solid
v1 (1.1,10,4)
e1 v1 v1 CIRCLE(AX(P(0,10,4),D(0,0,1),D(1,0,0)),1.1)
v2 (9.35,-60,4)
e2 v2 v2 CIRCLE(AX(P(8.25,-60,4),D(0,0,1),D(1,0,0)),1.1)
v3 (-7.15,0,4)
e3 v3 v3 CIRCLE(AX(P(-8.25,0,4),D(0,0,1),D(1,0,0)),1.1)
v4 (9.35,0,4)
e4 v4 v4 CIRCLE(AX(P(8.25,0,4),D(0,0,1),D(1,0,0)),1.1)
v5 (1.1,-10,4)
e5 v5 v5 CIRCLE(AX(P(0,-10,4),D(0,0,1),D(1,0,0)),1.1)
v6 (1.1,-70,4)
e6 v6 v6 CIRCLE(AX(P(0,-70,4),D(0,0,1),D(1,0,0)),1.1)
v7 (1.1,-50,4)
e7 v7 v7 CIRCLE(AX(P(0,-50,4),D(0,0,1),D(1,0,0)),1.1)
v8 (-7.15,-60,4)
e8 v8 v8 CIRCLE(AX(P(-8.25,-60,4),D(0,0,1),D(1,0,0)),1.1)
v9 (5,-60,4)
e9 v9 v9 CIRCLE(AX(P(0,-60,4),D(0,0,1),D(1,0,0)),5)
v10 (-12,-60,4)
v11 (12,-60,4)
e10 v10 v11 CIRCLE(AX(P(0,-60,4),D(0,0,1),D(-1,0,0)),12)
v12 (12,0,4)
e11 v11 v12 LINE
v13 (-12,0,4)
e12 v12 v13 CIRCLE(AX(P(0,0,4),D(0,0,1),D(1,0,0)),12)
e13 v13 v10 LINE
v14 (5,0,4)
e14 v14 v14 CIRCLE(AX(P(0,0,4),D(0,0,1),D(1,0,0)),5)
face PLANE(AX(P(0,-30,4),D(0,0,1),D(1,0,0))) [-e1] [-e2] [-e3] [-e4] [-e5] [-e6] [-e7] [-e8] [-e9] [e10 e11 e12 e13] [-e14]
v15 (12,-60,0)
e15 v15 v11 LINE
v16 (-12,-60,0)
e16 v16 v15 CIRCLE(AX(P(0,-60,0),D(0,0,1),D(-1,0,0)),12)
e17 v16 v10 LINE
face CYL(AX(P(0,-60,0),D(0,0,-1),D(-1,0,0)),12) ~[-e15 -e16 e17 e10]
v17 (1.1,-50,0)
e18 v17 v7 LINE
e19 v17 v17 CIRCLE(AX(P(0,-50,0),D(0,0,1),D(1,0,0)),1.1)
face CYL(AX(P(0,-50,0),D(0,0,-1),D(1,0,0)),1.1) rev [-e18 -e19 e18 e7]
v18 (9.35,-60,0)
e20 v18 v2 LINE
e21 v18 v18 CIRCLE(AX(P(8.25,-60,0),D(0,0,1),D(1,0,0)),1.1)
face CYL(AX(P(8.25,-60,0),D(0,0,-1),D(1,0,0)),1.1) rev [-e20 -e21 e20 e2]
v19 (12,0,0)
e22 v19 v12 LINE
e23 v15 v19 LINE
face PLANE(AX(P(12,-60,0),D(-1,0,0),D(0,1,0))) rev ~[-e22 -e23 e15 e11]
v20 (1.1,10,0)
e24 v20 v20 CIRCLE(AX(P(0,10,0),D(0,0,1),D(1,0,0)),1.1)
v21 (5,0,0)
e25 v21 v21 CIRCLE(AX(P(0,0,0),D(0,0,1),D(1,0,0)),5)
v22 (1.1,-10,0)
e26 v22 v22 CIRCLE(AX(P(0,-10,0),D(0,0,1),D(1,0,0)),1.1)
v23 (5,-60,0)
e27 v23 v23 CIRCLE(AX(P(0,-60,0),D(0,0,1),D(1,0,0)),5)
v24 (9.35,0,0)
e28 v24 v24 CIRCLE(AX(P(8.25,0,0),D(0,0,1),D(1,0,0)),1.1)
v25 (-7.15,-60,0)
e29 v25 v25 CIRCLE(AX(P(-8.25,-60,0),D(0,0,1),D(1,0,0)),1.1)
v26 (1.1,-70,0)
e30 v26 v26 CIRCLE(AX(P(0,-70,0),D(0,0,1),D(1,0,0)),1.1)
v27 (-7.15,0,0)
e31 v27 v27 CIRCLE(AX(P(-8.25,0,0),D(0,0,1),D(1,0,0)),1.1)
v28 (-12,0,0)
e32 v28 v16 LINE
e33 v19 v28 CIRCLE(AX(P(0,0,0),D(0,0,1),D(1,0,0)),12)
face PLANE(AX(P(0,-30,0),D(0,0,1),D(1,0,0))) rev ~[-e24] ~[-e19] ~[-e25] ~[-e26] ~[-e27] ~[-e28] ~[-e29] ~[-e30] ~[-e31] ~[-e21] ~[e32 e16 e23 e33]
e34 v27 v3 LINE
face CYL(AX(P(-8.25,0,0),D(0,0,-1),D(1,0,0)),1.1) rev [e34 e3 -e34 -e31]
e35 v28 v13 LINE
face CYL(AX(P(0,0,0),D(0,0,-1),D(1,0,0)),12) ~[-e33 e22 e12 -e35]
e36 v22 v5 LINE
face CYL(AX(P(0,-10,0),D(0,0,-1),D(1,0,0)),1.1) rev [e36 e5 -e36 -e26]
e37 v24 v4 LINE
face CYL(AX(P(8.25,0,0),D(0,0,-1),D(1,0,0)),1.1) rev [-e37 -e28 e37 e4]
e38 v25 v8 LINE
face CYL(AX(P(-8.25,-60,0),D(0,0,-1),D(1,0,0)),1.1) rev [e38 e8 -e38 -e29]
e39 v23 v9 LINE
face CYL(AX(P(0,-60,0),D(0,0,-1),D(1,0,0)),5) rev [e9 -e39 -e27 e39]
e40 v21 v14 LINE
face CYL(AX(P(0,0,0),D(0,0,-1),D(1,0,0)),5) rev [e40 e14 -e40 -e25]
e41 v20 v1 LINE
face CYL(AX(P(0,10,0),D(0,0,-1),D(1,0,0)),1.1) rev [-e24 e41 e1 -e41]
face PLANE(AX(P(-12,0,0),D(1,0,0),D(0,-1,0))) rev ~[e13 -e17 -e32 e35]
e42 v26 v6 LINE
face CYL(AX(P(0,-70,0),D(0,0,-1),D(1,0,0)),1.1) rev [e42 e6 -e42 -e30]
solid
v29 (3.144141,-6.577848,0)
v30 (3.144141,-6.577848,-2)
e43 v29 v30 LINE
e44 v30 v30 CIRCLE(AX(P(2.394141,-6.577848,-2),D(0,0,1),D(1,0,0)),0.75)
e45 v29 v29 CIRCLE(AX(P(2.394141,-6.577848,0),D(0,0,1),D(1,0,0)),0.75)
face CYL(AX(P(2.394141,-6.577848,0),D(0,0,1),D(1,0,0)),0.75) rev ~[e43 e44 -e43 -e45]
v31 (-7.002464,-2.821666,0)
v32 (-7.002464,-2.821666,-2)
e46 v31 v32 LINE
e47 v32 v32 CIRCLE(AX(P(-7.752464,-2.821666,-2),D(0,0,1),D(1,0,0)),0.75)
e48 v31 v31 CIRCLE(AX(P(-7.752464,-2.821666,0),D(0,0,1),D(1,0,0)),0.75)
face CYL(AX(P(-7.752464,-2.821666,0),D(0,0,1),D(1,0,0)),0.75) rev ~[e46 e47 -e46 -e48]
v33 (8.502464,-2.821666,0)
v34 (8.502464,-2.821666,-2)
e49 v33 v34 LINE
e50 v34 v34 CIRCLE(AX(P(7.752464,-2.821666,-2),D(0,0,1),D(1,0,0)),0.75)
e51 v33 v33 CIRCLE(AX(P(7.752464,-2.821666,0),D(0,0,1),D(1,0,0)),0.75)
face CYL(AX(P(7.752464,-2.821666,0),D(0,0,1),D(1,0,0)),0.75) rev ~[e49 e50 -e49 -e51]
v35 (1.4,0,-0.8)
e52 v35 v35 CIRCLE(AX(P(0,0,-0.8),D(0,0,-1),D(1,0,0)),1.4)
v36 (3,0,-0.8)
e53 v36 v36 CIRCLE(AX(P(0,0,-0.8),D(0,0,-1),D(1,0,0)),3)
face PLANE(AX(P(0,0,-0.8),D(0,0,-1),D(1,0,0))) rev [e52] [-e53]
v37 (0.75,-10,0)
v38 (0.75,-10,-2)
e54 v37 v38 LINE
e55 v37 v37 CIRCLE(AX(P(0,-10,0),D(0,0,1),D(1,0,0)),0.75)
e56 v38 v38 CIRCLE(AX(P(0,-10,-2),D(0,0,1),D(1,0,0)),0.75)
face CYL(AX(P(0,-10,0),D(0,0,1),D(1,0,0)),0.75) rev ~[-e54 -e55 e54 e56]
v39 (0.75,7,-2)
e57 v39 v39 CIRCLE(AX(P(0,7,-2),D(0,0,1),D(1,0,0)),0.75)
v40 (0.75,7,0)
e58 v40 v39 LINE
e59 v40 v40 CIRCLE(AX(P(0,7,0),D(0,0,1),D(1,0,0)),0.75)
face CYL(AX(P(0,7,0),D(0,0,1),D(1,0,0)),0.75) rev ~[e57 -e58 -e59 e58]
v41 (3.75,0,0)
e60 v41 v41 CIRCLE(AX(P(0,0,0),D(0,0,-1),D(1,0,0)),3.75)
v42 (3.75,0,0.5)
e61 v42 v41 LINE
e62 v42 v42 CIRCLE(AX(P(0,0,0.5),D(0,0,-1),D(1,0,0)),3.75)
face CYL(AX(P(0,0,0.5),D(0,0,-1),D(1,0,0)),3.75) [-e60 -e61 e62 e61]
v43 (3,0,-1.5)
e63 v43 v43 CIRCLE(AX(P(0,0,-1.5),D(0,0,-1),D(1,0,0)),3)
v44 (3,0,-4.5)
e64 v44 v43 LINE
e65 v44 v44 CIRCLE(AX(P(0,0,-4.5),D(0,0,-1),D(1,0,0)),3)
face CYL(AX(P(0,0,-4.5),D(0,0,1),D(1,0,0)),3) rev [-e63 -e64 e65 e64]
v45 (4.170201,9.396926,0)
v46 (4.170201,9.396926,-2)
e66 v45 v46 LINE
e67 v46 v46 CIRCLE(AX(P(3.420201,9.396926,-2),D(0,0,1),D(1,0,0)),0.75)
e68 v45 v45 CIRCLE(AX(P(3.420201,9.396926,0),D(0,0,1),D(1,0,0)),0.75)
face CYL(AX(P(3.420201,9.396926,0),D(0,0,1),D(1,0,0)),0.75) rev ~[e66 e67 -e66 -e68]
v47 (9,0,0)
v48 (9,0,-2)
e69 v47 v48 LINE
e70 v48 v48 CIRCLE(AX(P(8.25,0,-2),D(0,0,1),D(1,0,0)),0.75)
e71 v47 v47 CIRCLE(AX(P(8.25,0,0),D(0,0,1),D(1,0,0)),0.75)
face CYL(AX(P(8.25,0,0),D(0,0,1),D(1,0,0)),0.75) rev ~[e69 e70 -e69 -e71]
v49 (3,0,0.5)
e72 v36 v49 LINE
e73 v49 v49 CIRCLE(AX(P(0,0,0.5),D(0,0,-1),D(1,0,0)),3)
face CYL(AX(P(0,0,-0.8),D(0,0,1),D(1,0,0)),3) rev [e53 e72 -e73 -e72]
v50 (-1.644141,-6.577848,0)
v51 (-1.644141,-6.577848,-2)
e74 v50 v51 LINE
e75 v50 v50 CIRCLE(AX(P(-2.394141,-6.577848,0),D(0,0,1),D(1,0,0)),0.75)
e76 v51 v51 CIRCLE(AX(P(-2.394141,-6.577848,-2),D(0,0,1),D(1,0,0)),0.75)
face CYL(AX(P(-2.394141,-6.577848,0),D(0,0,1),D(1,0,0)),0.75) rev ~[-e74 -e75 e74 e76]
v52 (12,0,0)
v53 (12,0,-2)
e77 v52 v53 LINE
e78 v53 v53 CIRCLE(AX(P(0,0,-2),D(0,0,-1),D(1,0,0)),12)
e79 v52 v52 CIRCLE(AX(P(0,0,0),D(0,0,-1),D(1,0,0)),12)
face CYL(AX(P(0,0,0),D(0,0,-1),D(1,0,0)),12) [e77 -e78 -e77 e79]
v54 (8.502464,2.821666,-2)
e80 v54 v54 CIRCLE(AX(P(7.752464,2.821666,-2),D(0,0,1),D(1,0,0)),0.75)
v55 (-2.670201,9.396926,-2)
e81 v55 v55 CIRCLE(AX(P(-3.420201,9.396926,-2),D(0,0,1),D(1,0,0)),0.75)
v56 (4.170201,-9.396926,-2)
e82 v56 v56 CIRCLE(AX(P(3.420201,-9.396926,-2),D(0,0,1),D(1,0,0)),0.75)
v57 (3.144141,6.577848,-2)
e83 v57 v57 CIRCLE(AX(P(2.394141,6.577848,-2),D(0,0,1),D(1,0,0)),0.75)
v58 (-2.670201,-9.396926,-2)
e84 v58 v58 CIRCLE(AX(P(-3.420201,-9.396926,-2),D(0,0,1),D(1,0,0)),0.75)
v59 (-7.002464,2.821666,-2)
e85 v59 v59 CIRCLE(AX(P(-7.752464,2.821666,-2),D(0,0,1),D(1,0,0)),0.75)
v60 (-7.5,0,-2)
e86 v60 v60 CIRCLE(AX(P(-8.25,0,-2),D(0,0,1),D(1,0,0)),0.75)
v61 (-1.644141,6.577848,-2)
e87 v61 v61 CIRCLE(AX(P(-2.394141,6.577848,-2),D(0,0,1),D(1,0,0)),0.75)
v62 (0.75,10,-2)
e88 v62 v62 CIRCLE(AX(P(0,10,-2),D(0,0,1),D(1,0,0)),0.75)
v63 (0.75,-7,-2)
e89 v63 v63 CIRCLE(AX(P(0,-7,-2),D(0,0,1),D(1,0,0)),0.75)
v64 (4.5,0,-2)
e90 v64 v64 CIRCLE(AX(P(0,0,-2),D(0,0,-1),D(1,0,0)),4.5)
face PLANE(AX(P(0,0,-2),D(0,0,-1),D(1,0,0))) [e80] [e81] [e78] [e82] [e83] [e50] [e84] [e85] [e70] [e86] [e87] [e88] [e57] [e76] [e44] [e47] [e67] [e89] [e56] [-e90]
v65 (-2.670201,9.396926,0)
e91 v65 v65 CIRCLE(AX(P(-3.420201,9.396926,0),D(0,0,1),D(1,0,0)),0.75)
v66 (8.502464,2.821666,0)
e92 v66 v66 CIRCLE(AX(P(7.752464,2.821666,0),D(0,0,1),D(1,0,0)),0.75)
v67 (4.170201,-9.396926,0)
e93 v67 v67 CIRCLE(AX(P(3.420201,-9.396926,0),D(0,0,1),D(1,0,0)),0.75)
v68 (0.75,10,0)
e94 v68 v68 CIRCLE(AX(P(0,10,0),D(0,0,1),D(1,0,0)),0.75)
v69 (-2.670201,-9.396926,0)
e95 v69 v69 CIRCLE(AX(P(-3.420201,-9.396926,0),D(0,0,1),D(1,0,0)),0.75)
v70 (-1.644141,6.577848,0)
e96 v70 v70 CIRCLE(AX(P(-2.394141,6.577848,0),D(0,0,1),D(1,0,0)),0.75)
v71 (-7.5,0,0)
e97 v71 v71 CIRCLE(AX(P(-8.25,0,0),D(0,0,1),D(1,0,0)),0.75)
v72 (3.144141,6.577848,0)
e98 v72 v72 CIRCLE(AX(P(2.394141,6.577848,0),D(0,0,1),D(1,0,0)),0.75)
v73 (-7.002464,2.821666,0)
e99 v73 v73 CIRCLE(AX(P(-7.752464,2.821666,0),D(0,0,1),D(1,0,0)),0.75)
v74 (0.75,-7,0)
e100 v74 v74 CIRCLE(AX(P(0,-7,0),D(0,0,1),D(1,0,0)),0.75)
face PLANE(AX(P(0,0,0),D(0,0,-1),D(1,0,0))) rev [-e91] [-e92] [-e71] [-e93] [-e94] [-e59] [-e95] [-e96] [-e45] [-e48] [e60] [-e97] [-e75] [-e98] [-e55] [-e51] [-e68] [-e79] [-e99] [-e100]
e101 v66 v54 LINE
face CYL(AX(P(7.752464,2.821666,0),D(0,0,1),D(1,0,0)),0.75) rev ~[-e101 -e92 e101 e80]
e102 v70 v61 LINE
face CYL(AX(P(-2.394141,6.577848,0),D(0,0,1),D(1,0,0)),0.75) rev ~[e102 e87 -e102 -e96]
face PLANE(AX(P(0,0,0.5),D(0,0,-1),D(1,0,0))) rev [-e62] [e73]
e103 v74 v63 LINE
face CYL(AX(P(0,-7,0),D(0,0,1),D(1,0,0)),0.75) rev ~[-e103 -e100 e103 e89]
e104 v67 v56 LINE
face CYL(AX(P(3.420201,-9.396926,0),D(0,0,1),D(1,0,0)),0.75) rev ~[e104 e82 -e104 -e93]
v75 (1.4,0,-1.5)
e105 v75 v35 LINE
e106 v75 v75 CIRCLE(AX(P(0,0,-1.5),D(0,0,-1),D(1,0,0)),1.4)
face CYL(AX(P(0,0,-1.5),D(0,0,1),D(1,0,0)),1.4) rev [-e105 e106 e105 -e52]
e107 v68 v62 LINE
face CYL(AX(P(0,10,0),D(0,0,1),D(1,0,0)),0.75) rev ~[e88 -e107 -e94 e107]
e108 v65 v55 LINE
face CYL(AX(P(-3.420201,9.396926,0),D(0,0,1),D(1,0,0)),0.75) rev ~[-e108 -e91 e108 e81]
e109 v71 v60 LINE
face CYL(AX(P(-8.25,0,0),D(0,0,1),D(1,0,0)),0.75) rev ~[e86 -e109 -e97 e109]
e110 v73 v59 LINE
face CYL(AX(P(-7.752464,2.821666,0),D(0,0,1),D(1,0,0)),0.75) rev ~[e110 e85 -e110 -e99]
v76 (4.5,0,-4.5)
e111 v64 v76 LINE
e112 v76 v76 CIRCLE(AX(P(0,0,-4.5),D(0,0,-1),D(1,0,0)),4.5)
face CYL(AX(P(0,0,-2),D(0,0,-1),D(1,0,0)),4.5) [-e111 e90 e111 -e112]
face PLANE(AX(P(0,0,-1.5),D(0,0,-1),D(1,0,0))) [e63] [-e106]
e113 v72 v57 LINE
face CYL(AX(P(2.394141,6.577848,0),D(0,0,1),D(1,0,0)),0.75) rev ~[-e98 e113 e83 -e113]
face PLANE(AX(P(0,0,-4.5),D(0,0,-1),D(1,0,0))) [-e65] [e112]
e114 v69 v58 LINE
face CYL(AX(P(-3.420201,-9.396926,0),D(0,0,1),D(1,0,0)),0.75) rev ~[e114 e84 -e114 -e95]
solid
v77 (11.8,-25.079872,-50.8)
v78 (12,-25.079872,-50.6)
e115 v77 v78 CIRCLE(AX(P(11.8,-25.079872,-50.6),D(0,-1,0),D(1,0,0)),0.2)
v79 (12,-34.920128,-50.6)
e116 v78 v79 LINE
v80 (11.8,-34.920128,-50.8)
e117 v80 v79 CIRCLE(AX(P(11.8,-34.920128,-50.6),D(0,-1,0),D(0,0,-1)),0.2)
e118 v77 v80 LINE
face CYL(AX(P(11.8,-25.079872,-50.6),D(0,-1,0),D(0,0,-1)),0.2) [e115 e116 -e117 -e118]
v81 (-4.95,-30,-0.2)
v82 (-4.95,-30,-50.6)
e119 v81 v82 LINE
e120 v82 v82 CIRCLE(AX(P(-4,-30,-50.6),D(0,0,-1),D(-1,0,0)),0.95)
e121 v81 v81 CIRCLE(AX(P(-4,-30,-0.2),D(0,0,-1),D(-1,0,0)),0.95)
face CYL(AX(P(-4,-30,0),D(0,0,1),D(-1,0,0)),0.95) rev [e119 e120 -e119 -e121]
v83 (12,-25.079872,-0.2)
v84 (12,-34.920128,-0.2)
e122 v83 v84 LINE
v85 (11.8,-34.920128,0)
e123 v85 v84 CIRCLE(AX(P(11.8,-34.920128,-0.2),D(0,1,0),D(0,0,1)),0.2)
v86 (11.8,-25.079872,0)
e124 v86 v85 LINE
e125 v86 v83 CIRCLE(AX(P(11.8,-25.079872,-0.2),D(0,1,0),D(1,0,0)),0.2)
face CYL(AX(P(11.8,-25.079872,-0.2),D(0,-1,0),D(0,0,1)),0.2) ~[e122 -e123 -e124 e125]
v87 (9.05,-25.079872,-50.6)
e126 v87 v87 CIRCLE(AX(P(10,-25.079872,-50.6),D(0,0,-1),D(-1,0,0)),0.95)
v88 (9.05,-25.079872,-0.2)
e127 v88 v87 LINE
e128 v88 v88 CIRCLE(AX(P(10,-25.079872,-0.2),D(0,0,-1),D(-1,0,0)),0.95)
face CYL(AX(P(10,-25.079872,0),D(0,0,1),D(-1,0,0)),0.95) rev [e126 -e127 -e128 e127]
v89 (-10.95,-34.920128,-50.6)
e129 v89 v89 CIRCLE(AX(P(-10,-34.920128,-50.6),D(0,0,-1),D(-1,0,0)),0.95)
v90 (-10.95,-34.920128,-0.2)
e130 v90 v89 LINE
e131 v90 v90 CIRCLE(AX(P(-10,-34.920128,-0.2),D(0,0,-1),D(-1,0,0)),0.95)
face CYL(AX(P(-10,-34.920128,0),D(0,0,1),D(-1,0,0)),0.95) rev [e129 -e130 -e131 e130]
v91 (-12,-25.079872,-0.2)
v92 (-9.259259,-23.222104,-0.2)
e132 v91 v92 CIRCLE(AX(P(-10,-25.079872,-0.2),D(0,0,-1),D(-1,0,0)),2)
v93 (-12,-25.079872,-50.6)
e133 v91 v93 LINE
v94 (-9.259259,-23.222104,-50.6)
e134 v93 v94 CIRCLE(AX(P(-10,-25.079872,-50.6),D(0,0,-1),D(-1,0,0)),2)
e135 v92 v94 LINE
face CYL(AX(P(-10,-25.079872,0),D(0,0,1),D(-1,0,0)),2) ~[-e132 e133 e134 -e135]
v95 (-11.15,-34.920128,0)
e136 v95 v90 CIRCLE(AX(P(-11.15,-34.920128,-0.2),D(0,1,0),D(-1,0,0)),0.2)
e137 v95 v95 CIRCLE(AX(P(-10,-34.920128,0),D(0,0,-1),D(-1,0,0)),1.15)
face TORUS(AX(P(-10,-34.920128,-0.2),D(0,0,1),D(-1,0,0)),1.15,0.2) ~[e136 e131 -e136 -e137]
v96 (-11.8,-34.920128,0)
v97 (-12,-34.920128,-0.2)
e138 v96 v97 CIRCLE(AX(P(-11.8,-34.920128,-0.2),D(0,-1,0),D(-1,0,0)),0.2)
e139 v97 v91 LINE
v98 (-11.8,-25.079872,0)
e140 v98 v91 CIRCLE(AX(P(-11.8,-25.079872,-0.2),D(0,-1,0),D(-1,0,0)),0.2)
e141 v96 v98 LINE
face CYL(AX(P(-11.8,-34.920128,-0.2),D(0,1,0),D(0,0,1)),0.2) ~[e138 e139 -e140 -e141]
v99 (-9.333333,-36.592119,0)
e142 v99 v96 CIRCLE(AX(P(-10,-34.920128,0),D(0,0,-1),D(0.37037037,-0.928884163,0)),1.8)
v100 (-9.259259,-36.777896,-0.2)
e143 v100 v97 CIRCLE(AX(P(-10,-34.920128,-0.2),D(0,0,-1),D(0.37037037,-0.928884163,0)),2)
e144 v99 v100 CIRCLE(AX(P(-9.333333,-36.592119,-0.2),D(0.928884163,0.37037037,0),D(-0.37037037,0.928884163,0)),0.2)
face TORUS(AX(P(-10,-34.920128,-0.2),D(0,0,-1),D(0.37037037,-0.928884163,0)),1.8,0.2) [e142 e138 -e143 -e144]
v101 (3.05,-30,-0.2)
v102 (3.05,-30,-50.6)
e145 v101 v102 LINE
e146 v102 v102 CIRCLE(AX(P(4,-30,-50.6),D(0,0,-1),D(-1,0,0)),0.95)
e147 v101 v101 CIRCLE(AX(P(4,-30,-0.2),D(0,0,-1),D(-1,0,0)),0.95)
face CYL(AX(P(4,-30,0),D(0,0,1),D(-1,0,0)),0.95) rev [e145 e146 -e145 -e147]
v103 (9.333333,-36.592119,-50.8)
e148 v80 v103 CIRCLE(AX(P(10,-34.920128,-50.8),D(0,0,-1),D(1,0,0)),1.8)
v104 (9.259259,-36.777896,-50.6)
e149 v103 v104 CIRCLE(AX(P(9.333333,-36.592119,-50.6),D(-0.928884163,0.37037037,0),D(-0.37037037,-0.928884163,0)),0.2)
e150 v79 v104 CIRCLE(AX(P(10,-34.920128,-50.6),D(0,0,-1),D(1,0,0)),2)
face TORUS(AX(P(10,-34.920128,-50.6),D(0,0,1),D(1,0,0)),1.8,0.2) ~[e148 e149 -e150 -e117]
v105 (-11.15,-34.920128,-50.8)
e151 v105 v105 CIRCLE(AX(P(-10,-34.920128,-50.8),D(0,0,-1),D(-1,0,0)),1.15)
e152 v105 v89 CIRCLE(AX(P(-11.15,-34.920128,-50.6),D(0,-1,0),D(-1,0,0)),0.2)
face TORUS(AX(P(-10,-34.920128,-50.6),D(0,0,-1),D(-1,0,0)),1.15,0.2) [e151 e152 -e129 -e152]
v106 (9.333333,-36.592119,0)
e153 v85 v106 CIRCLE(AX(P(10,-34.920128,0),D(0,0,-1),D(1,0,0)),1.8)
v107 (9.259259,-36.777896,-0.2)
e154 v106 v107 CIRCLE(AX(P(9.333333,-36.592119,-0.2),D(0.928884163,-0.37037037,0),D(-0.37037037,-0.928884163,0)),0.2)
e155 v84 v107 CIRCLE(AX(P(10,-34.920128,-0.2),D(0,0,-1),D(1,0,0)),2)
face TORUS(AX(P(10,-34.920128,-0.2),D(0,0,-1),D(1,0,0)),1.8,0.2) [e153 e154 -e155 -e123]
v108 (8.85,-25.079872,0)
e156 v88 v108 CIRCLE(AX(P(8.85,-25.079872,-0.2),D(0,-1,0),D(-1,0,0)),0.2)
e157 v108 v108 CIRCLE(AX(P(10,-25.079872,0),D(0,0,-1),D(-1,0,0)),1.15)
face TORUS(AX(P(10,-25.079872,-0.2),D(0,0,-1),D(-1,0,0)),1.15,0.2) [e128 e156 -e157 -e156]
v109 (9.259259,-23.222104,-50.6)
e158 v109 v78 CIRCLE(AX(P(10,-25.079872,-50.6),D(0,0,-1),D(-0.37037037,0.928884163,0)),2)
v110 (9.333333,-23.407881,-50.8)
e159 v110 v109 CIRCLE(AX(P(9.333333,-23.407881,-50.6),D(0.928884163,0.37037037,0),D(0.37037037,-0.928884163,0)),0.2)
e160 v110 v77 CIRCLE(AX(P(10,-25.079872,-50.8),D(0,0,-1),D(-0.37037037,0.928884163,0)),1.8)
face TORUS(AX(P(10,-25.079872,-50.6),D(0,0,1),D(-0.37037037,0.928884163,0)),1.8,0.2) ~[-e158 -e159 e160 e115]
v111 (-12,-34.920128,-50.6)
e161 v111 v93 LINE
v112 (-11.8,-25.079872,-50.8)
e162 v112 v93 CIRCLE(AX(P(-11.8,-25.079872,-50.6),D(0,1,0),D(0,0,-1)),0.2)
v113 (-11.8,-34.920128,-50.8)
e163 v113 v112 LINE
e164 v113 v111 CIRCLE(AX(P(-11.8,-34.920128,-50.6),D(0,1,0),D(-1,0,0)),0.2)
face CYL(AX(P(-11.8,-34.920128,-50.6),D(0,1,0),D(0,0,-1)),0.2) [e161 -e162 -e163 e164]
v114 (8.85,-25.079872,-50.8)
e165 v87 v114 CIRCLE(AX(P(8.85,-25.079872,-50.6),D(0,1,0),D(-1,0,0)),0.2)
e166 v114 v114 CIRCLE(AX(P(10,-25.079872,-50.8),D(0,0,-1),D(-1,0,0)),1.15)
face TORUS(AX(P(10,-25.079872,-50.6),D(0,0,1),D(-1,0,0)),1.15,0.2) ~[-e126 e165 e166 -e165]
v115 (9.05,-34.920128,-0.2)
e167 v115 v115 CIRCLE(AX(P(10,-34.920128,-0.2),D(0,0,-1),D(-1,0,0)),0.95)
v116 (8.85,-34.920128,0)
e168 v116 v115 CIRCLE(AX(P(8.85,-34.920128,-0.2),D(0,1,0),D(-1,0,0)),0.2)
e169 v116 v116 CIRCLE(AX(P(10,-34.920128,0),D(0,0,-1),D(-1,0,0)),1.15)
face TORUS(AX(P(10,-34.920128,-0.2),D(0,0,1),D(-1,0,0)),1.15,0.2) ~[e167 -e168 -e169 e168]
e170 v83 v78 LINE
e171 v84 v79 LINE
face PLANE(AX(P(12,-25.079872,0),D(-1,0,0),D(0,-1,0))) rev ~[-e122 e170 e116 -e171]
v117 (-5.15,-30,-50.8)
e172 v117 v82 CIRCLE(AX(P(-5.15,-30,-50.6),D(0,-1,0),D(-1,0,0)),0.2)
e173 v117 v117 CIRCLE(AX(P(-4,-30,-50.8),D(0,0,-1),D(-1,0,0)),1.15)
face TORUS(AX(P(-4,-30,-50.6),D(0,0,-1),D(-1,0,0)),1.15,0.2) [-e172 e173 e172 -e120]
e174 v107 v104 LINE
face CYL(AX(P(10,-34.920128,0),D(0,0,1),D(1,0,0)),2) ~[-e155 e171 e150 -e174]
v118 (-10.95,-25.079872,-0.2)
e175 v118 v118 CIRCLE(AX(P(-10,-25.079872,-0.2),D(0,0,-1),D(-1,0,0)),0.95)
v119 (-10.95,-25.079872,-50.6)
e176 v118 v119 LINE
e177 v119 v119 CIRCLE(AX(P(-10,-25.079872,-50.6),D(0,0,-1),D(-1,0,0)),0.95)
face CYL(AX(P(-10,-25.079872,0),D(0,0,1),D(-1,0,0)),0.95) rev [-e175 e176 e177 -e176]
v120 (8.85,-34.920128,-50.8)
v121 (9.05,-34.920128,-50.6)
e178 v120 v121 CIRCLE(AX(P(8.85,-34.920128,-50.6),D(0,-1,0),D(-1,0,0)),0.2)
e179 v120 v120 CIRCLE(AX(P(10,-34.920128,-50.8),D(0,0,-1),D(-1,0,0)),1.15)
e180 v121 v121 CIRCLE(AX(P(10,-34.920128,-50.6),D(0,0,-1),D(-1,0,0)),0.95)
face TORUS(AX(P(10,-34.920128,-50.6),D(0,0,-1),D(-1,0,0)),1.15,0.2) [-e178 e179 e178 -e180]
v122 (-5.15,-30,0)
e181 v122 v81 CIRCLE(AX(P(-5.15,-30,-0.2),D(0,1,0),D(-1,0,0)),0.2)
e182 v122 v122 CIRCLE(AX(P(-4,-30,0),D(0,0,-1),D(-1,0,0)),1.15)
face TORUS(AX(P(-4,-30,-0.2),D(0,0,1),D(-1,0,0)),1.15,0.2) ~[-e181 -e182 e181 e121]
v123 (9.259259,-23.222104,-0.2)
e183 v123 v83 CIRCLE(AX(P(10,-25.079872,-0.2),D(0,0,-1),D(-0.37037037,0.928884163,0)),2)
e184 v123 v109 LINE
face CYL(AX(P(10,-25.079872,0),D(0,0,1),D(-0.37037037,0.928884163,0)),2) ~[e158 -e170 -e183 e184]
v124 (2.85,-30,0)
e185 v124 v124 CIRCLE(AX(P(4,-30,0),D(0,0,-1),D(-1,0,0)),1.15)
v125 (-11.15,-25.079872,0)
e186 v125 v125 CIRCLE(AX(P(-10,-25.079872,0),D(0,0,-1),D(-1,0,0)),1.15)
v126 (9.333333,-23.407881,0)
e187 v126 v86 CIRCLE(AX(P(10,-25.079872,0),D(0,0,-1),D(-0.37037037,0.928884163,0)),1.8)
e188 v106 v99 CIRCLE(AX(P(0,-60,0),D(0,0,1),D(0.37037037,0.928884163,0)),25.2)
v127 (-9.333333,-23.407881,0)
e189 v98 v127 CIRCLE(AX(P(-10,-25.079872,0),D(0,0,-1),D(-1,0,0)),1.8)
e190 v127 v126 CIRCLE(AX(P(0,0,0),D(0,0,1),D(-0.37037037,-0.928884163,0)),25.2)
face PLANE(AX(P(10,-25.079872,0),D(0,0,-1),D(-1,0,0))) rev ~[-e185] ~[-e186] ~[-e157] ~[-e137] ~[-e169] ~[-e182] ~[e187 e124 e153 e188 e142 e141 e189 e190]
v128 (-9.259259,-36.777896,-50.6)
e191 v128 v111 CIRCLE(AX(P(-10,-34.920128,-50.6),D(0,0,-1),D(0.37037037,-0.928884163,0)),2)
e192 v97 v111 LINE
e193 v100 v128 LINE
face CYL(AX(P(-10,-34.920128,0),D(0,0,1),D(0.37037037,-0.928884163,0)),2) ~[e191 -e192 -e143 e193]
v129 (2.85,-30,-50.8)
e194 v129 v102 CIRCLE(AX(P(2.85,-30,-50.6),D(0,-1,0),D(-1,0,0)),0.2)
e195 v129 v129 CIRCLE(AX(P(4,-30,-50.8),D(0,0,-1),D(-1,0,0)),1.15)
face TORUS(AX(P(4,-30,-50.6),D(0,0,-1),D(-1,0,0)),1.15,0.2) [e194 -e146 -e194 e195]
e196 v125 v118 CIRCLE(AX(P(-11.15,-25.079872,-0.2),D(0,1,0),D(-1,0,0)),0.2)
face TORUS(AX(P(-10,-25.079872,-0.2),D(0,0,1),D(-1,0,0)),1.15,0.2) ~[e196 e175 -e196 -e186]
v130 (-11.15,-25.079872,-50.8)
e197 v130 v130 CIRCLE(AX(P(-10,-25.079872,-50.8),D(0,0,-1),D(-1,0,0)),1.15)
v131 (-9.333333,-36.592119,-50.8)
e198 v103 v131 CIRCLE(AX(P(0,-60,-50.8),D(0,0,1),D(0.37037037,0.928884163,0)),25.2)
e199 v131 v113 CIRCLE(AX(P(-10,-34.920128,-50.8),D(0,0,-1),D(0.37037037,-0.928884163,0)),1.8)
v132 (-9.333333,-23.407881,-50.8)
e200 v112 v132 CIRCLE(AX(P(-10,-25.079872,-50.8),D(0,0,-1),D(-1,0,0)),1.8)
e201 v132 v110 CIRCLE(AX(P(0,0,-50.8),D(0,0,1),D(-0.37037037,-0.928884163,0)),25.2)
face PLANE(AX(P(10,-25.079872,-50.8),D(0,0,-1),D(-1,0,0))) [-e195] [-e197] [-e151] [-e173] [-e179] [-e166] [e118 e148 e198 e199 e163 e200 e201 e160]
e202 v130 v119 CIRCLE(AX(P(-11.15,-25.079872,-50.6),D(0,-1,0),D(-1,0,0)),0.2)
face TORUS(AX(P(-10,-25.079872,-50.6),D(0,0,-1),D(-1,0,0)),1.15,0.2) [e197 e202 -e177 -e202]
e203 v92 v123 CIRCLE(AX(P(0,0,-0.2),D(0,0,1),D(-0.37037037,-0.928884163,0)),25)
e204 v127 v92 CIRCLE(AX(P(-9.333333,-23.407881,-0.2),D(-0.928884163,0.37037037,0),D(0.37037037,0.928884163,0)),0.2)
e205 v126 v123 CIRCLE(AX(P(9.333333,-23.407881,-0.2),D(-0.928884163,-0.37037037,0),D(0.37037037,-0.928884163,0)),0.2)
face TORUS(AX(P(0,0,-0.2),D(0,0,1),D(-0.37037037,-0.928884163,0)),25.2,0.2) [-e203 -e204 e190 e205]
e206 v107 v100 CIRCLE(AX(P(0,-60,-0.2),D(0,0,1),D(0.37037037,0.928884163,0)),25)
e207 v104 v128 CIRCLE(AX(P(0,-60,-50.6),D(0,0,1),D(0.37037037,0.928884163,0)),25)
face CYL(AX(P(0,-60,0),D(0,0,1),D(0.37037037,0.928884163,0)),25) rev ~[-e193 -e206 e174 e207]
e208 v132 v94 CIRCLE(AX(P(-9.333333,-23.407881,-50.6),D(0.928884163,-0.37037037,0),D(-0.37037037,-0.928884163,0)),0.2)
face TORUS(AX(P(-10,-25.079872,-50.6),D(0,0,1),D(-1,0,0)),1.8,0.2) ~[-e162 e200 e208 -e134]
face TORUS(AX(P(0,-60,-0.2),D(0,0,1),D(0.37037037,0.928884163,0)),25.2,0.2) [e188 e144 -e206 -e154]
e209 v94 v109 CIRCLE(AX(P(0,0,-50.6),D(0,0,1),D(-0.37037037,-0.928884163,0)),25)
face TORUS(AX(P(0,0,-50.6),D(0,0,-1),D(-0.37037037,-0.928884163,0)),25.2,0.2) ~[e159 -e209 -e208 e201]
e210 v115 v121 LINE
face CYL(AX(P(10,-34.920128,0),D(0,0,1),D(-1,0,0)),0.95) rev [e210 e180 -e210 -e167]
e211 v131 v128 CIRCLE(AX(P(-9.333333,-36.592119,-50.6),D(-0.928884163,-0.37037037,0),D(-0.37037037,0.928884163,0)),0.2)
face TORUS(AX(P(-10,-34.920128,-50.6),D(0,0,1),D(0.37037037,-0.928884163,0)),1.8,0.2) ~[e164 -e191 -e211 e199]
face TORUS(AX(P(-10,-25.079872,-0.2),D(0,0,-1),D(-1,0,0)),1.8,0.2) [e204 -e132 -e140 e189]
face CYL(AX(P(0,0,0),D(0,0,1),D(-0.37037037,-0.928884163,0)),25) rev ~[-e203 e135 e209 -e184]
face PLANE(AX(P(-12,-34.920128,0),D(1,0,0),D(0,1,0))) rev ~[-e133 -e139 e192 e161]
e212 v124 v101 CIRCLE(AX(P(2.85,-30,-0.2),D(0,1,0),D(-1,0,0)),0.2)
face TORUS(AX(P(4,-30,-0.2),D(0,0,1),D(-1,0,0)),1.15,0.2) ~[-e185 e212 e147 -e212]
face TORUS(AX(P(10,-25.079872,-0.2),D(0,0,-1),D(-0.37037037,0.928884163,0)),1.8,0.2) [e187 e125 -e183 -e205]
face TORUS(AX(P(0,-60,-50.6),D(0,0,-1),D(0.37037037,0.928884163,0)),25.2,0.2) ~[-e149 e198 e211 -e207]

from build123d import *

# Parameters (mm, degrees)
SKETCH_2_R          = 0.75
CUT_EXTRUDE_1_DEPTH = 18.557049866
SKETCH_1_2_R        = 5
SKETCH_1_2_R_2      = 1.1
EXTRUDE_1_DEPTH     = 4
SKETCH_2_2_R        = 1.1
SKETCH_2_2_R_2      = 0.95
EXTRUDE_2_DEPTH     = 50.8
FILLET_1_R          = 0.2


with BuildPart() as part:
    # Sketch 1 → Повернуть1 (revolve)
    with BuildSketch(Plane(origin=(0, 0, 0), x_dir=(0, 0, -1), z_dir=(1, 0, 0)), mode=Mode.PRIVATE) as revolve_1_sk:
        Polygon((0, 3.75), (0, 12), (2, 12), (2, 4.5), (4.5, 4.5), (4.5, 3), (1.5, 3), (1.5, 1.4), (0.8, 1.4), (0.8, 3), (-0.5, 3), (-0.5, 3.75), align=None)
    revolve(revolve_1_sk.sketch.rotate(Axis((0, 0, 50), (0, 0, -1)), 90), axis=Axis((0, 0, 50), (0, 0, -1)))

    # Sketch 2 → Вырез-Вытянуть1 (cut, through all)
    with BuildSketch(Plane.XY):
        with Locations((8.25, 0)):
            Circle(SKETCH_2_R)
        with Locations((7.752464121, -2.821666182)):
            Circle(SKETCH_2_R)
        with Locations((7.752464121, 2.821666182)):
            Circle(SKETCH_2_R)
        with Locations((-8.25, 0)):
            Circle(SKETCH_2_R)
        with Locations((-7.752464121, -2.821666182)):
            Circle(SKETCH_2_R)
        with Locations((-7.752464121, 2.821666182)):
            Circle(SKETCH_2_R)
        with Locations((0, 7)):
            Circle(SKETCH_2_R)
        with Locations((0, 10)):
            Circle(SKETCH_2_R)
        with Locations((2.394141003, 6.577848346)):
            Circle(SKETCH_2_R)
        with Locations((3.420201433, 9.396926208)):
            Circle(SKETCH_2_R)
        with Locations((-2.394141003, 6.577848346)):
            Circle(SKETCH_2_R)
        with Locations((-3.420201433, 9.396926208)):
            Circle(SKETCH_2_R)
        with Locations((0, -7)):
            Circle(SKETCH_2_R)
        with Locations((0, -10)):
            Circle(SKETCH_2_R)
        with Locations((3.420201433, -9.396926208)):
            Circle(SKETCH_2_R)
        with Locations((2.394141003, -6.577848346)):
            Circle(SKETCH_2_R)
        with Locations((-2.394141003, -6.577848346)):
            Circle(SKETCH_2_R)
        with Locations((-3.420201433, -9.396926208)):
            Circle(SKETCH_2_R)
    extrude(amount=-CUT_EXTRUDE_1_DEPTH, mode=Mode.SUBTRACT)


with BuildPart() as body_2:
    # Sketch 1 2 → 보스-돌출1 (new body)
    with BuildSketch(Plane.XY):
        with BuildLine():
            Line((-12, 0), (-12, -60))
            ThreePointArc((-12, -60), (0, -72), (12, -60))
            Line((12, -60), (12, 0))
            ThreePointArc((12, 0), (0, 12), (-12, 0))
        make_face()
        Circle(SKETCH_1_2_R, mode=Mode.SUBTRACT)
        with Locations((0, -60)):
            Circle(SKETCH_1_2_R, mode=Mode.SUBTRACT)
        with Locations((-8.25, 0)):
            Circle(SKETCH_1_2_R_2, mode=Mode.SUBTRACT)
        with Locations((0, 10)):
            Circle(SKETCH_1_2_R_2, mode=Mode.SUBTRACT)
        with Locations((8.25, 0)):
            Circle(SKETCH_1_2_R_2, mode=Mode.SUBTRACT)
        with Locations((0, -10)):
            Circle(SKETCH_1_2_R_2, mode=Mode.SUBTRACT)
        with Locations((0, -50)):
            Circle(SKETCH_1_2_R_2, mode=Mode.SUBTRACT)
        with Locations((8.25, -60)):
            Circle(SKETCH_1_2_R_2, mode=Mode.SUBTRACT)
        with Locations((-8.25, -60)):
            Circle(SKETCH_1_2_R_2, mode=Mode.SUBTRACT)
        with Locations((0, -70)):
            Circle(SKETCH_1_2_R_2, mode=Mode.SUBTRACT)
    extrude(amount=EXTRUDE_1_DEPTH)


with BuildPart() as body_3:
    # Sketch 2 2 → 보스-돌출2 (new body)
    # profile 1 of 7: a face of its own
    with BuildSketch(Plane(origin=(0, 0, 0), x_dir=(-1, 0, 0), z_dir=(0, 0, -1))):
        with BuildLine():
            ThreePointArc((9.259259259, -36.777895919), (11.122167215, -36.575645862), (12, -34.920127592))
            Line((12, -34.920127592), (12, -25.079872408))
            ThreePointArc((12, -25.079872408), (11.122167215, -23.424354138), (9.259259259, -23.222104081))
            ThreePointArc((9.259259259, -23.222104081), (0, -25), (-9.259259259, -23.222104081))
            ThreePointArc((-9.259259259, -23.222104081), (-11.122167215, -23.424354138), (-12, -25.079872408))
            Line((-12, -25.079872408), (-12, -34.920127592))
            ThreePointArc((-12, -34.920127592), (-11.122167215, -36.575645862), (-9.259259259, -36.777895919))
            ThreePointArc((-9.259259259, -36.777895919), (0, -35), (9.259259259, -36.777895919))
        make_face()
        with Locations((-10, -34.920127592)):
            Circle(SKETCH_2_2_R, mode=Mode.SUBTRACT)
        with Locations((10, -34.920127592)):
            Circle(SKETCH_2_2_R, mode=Mode.SUBTRACT)
        with Locations((-10, -25.079872408)):
            Circle(SKETCH_2_2_R, mode=Mode.SUBTRACT)
        with Locations((-4, -30)):
            Circle(SKETCH_2_2_R, mode=Mode.SUBTRACT)
        with Locations((4, -30)):
            Circle(SKETCH_2_2_R, mode=Mode.SUBTRACT)
        with Locations((10, -25.079872408)):
            Circle(SKETCH_2_2_R, mode=Mode.SUBTRACT)
    # profile 2 of 7: a face of its own
    with BuildSketch(Plane(origin=(0, 0, 0), x_dir=(-1, 0, 0), z_dir=(0, 0, -1))):
        with Locations((-10, -34.920127592)):
            Circle(SKETCH_2_2_R)
        with Locations((-10, -34.920127592)):
            Circle(SKETCH_2_2_R_2, mode=Mode.SUBTRACT)
    # profile 3 of 7: a face of its own
    with BuildSketch(Plane(origin=(0, 0, 0), x_dir=(-1, 0, 0), z_dir=(0, 0, -1))):
        with Locations((10, -34.920127592)):
            Circle(SKETCH_2_2_R)
        with Locations((10, -34.920127592)):
            Circle(SKETCH_2_2_R_2, mode=Mode.SUBTRACT)
    # profile 4 of 7: a face of its own
    with BuildSketch(Plane(origin=(0, 0, 0), x_dir=(-1, 0, 0), z_dir=(0, 0, -1))):
        with Locations((10, -25.079872408)):
            Circle(SKETCH_2_2_R)
        with Locations((10, -25.079872408)):
            Circle(SKETCH_2_2_R_2, mode=Mode.SUBTRACT)
    # profile 5 of 7: a face of its own
    with BuildSketch(Plane(origin=(0, 0, 0), x_dir=(-1, 0, 0), z_dir=(0, 0, -1))):
        with Locations((4, -30)):
            Circle(SKETCH_2_2_R)
        with Locations((4, -30)):
            Circle(SKETCH_2_2_R_2, mode=Mode.SUBTRACT)
    # profile 6 of 7: a face of its own
    with BuildSketch(Plane(origin=(0, 0, 0), x_dir=(-1, 0, 0), z_dir=(0, 0, -1))):
        with Locations((-4, -30)):
            Circle(SKETCH_2_2_R)
        with Locations((-4, -30)):
            Circle(SKETCH_2_2_R_2, mode=Mode.SUBTRACT)
    # profile 7 of 7: a face of its own
    with BuildSketch(Plane(origin=(0, 0, 0), x_dir=(-1, 0, 0), z_dir=(0, 0, -1))):
        with Locations((-10, -25.079872408)):
            Circle(SKETCH_2_2_R)
        with Locations((-10, -25.079872408)):
            Circle(SKETCH_2_2_R_2, mode=Mode.SUBTRACT)
    extrude(amount=EXTRUDE_2_DEPTH)

    # 필렛1
    fillet_1_edges = [body_3.edges().sort_by_distance(p)[0] for p in [
        (10.95, -25.079872408, -50.8),
        (0, -25, -50.8),
        (10.95, -34.920127592, 0),
        (-9.05, -34.920127592, 0),
        (-9.05, -25.079872408, 0),
        (-3.05, -30, 0),
        (4.95, -30, 0),
        (-11.122167215, -23.424354138, 0),
        (-12, -30, 0),
        (-11.122167215, -36.575645862, 0),
        (11.122167215, -23.424354138, -50.8),
        (0, -35, 0),
        (11.122167215, -36.575645862, 0),
        (12, -30, 0),
        (11.122167215, -23.424354138, 0),
        (0, -25, 0),
        (10.95, -25.079872408, 0),
        (12, -30, -50.8),
        (11.122167215, -36.575645862, -50.8),
        (0, -35, -50.8),
        (-11.122167215, -36.575645862, -50.8),
        (-12, -30, -50.8),
        (-11.122167215, -23.424354138, -50.8),
        (4.95, -30, -50.8),
        (-3.05, -30, -50.8),
        (-9.05, -25.079872408, -50.8),
        (-9.05, -34.920127592, -50.8),
        (10.95, -34.920127592, -50.8),
    ]]
    fillet(fillet_1_edges, radius=FILLET_1_R)


solid = Compound([part.part, body_2.part, body_3.part])
